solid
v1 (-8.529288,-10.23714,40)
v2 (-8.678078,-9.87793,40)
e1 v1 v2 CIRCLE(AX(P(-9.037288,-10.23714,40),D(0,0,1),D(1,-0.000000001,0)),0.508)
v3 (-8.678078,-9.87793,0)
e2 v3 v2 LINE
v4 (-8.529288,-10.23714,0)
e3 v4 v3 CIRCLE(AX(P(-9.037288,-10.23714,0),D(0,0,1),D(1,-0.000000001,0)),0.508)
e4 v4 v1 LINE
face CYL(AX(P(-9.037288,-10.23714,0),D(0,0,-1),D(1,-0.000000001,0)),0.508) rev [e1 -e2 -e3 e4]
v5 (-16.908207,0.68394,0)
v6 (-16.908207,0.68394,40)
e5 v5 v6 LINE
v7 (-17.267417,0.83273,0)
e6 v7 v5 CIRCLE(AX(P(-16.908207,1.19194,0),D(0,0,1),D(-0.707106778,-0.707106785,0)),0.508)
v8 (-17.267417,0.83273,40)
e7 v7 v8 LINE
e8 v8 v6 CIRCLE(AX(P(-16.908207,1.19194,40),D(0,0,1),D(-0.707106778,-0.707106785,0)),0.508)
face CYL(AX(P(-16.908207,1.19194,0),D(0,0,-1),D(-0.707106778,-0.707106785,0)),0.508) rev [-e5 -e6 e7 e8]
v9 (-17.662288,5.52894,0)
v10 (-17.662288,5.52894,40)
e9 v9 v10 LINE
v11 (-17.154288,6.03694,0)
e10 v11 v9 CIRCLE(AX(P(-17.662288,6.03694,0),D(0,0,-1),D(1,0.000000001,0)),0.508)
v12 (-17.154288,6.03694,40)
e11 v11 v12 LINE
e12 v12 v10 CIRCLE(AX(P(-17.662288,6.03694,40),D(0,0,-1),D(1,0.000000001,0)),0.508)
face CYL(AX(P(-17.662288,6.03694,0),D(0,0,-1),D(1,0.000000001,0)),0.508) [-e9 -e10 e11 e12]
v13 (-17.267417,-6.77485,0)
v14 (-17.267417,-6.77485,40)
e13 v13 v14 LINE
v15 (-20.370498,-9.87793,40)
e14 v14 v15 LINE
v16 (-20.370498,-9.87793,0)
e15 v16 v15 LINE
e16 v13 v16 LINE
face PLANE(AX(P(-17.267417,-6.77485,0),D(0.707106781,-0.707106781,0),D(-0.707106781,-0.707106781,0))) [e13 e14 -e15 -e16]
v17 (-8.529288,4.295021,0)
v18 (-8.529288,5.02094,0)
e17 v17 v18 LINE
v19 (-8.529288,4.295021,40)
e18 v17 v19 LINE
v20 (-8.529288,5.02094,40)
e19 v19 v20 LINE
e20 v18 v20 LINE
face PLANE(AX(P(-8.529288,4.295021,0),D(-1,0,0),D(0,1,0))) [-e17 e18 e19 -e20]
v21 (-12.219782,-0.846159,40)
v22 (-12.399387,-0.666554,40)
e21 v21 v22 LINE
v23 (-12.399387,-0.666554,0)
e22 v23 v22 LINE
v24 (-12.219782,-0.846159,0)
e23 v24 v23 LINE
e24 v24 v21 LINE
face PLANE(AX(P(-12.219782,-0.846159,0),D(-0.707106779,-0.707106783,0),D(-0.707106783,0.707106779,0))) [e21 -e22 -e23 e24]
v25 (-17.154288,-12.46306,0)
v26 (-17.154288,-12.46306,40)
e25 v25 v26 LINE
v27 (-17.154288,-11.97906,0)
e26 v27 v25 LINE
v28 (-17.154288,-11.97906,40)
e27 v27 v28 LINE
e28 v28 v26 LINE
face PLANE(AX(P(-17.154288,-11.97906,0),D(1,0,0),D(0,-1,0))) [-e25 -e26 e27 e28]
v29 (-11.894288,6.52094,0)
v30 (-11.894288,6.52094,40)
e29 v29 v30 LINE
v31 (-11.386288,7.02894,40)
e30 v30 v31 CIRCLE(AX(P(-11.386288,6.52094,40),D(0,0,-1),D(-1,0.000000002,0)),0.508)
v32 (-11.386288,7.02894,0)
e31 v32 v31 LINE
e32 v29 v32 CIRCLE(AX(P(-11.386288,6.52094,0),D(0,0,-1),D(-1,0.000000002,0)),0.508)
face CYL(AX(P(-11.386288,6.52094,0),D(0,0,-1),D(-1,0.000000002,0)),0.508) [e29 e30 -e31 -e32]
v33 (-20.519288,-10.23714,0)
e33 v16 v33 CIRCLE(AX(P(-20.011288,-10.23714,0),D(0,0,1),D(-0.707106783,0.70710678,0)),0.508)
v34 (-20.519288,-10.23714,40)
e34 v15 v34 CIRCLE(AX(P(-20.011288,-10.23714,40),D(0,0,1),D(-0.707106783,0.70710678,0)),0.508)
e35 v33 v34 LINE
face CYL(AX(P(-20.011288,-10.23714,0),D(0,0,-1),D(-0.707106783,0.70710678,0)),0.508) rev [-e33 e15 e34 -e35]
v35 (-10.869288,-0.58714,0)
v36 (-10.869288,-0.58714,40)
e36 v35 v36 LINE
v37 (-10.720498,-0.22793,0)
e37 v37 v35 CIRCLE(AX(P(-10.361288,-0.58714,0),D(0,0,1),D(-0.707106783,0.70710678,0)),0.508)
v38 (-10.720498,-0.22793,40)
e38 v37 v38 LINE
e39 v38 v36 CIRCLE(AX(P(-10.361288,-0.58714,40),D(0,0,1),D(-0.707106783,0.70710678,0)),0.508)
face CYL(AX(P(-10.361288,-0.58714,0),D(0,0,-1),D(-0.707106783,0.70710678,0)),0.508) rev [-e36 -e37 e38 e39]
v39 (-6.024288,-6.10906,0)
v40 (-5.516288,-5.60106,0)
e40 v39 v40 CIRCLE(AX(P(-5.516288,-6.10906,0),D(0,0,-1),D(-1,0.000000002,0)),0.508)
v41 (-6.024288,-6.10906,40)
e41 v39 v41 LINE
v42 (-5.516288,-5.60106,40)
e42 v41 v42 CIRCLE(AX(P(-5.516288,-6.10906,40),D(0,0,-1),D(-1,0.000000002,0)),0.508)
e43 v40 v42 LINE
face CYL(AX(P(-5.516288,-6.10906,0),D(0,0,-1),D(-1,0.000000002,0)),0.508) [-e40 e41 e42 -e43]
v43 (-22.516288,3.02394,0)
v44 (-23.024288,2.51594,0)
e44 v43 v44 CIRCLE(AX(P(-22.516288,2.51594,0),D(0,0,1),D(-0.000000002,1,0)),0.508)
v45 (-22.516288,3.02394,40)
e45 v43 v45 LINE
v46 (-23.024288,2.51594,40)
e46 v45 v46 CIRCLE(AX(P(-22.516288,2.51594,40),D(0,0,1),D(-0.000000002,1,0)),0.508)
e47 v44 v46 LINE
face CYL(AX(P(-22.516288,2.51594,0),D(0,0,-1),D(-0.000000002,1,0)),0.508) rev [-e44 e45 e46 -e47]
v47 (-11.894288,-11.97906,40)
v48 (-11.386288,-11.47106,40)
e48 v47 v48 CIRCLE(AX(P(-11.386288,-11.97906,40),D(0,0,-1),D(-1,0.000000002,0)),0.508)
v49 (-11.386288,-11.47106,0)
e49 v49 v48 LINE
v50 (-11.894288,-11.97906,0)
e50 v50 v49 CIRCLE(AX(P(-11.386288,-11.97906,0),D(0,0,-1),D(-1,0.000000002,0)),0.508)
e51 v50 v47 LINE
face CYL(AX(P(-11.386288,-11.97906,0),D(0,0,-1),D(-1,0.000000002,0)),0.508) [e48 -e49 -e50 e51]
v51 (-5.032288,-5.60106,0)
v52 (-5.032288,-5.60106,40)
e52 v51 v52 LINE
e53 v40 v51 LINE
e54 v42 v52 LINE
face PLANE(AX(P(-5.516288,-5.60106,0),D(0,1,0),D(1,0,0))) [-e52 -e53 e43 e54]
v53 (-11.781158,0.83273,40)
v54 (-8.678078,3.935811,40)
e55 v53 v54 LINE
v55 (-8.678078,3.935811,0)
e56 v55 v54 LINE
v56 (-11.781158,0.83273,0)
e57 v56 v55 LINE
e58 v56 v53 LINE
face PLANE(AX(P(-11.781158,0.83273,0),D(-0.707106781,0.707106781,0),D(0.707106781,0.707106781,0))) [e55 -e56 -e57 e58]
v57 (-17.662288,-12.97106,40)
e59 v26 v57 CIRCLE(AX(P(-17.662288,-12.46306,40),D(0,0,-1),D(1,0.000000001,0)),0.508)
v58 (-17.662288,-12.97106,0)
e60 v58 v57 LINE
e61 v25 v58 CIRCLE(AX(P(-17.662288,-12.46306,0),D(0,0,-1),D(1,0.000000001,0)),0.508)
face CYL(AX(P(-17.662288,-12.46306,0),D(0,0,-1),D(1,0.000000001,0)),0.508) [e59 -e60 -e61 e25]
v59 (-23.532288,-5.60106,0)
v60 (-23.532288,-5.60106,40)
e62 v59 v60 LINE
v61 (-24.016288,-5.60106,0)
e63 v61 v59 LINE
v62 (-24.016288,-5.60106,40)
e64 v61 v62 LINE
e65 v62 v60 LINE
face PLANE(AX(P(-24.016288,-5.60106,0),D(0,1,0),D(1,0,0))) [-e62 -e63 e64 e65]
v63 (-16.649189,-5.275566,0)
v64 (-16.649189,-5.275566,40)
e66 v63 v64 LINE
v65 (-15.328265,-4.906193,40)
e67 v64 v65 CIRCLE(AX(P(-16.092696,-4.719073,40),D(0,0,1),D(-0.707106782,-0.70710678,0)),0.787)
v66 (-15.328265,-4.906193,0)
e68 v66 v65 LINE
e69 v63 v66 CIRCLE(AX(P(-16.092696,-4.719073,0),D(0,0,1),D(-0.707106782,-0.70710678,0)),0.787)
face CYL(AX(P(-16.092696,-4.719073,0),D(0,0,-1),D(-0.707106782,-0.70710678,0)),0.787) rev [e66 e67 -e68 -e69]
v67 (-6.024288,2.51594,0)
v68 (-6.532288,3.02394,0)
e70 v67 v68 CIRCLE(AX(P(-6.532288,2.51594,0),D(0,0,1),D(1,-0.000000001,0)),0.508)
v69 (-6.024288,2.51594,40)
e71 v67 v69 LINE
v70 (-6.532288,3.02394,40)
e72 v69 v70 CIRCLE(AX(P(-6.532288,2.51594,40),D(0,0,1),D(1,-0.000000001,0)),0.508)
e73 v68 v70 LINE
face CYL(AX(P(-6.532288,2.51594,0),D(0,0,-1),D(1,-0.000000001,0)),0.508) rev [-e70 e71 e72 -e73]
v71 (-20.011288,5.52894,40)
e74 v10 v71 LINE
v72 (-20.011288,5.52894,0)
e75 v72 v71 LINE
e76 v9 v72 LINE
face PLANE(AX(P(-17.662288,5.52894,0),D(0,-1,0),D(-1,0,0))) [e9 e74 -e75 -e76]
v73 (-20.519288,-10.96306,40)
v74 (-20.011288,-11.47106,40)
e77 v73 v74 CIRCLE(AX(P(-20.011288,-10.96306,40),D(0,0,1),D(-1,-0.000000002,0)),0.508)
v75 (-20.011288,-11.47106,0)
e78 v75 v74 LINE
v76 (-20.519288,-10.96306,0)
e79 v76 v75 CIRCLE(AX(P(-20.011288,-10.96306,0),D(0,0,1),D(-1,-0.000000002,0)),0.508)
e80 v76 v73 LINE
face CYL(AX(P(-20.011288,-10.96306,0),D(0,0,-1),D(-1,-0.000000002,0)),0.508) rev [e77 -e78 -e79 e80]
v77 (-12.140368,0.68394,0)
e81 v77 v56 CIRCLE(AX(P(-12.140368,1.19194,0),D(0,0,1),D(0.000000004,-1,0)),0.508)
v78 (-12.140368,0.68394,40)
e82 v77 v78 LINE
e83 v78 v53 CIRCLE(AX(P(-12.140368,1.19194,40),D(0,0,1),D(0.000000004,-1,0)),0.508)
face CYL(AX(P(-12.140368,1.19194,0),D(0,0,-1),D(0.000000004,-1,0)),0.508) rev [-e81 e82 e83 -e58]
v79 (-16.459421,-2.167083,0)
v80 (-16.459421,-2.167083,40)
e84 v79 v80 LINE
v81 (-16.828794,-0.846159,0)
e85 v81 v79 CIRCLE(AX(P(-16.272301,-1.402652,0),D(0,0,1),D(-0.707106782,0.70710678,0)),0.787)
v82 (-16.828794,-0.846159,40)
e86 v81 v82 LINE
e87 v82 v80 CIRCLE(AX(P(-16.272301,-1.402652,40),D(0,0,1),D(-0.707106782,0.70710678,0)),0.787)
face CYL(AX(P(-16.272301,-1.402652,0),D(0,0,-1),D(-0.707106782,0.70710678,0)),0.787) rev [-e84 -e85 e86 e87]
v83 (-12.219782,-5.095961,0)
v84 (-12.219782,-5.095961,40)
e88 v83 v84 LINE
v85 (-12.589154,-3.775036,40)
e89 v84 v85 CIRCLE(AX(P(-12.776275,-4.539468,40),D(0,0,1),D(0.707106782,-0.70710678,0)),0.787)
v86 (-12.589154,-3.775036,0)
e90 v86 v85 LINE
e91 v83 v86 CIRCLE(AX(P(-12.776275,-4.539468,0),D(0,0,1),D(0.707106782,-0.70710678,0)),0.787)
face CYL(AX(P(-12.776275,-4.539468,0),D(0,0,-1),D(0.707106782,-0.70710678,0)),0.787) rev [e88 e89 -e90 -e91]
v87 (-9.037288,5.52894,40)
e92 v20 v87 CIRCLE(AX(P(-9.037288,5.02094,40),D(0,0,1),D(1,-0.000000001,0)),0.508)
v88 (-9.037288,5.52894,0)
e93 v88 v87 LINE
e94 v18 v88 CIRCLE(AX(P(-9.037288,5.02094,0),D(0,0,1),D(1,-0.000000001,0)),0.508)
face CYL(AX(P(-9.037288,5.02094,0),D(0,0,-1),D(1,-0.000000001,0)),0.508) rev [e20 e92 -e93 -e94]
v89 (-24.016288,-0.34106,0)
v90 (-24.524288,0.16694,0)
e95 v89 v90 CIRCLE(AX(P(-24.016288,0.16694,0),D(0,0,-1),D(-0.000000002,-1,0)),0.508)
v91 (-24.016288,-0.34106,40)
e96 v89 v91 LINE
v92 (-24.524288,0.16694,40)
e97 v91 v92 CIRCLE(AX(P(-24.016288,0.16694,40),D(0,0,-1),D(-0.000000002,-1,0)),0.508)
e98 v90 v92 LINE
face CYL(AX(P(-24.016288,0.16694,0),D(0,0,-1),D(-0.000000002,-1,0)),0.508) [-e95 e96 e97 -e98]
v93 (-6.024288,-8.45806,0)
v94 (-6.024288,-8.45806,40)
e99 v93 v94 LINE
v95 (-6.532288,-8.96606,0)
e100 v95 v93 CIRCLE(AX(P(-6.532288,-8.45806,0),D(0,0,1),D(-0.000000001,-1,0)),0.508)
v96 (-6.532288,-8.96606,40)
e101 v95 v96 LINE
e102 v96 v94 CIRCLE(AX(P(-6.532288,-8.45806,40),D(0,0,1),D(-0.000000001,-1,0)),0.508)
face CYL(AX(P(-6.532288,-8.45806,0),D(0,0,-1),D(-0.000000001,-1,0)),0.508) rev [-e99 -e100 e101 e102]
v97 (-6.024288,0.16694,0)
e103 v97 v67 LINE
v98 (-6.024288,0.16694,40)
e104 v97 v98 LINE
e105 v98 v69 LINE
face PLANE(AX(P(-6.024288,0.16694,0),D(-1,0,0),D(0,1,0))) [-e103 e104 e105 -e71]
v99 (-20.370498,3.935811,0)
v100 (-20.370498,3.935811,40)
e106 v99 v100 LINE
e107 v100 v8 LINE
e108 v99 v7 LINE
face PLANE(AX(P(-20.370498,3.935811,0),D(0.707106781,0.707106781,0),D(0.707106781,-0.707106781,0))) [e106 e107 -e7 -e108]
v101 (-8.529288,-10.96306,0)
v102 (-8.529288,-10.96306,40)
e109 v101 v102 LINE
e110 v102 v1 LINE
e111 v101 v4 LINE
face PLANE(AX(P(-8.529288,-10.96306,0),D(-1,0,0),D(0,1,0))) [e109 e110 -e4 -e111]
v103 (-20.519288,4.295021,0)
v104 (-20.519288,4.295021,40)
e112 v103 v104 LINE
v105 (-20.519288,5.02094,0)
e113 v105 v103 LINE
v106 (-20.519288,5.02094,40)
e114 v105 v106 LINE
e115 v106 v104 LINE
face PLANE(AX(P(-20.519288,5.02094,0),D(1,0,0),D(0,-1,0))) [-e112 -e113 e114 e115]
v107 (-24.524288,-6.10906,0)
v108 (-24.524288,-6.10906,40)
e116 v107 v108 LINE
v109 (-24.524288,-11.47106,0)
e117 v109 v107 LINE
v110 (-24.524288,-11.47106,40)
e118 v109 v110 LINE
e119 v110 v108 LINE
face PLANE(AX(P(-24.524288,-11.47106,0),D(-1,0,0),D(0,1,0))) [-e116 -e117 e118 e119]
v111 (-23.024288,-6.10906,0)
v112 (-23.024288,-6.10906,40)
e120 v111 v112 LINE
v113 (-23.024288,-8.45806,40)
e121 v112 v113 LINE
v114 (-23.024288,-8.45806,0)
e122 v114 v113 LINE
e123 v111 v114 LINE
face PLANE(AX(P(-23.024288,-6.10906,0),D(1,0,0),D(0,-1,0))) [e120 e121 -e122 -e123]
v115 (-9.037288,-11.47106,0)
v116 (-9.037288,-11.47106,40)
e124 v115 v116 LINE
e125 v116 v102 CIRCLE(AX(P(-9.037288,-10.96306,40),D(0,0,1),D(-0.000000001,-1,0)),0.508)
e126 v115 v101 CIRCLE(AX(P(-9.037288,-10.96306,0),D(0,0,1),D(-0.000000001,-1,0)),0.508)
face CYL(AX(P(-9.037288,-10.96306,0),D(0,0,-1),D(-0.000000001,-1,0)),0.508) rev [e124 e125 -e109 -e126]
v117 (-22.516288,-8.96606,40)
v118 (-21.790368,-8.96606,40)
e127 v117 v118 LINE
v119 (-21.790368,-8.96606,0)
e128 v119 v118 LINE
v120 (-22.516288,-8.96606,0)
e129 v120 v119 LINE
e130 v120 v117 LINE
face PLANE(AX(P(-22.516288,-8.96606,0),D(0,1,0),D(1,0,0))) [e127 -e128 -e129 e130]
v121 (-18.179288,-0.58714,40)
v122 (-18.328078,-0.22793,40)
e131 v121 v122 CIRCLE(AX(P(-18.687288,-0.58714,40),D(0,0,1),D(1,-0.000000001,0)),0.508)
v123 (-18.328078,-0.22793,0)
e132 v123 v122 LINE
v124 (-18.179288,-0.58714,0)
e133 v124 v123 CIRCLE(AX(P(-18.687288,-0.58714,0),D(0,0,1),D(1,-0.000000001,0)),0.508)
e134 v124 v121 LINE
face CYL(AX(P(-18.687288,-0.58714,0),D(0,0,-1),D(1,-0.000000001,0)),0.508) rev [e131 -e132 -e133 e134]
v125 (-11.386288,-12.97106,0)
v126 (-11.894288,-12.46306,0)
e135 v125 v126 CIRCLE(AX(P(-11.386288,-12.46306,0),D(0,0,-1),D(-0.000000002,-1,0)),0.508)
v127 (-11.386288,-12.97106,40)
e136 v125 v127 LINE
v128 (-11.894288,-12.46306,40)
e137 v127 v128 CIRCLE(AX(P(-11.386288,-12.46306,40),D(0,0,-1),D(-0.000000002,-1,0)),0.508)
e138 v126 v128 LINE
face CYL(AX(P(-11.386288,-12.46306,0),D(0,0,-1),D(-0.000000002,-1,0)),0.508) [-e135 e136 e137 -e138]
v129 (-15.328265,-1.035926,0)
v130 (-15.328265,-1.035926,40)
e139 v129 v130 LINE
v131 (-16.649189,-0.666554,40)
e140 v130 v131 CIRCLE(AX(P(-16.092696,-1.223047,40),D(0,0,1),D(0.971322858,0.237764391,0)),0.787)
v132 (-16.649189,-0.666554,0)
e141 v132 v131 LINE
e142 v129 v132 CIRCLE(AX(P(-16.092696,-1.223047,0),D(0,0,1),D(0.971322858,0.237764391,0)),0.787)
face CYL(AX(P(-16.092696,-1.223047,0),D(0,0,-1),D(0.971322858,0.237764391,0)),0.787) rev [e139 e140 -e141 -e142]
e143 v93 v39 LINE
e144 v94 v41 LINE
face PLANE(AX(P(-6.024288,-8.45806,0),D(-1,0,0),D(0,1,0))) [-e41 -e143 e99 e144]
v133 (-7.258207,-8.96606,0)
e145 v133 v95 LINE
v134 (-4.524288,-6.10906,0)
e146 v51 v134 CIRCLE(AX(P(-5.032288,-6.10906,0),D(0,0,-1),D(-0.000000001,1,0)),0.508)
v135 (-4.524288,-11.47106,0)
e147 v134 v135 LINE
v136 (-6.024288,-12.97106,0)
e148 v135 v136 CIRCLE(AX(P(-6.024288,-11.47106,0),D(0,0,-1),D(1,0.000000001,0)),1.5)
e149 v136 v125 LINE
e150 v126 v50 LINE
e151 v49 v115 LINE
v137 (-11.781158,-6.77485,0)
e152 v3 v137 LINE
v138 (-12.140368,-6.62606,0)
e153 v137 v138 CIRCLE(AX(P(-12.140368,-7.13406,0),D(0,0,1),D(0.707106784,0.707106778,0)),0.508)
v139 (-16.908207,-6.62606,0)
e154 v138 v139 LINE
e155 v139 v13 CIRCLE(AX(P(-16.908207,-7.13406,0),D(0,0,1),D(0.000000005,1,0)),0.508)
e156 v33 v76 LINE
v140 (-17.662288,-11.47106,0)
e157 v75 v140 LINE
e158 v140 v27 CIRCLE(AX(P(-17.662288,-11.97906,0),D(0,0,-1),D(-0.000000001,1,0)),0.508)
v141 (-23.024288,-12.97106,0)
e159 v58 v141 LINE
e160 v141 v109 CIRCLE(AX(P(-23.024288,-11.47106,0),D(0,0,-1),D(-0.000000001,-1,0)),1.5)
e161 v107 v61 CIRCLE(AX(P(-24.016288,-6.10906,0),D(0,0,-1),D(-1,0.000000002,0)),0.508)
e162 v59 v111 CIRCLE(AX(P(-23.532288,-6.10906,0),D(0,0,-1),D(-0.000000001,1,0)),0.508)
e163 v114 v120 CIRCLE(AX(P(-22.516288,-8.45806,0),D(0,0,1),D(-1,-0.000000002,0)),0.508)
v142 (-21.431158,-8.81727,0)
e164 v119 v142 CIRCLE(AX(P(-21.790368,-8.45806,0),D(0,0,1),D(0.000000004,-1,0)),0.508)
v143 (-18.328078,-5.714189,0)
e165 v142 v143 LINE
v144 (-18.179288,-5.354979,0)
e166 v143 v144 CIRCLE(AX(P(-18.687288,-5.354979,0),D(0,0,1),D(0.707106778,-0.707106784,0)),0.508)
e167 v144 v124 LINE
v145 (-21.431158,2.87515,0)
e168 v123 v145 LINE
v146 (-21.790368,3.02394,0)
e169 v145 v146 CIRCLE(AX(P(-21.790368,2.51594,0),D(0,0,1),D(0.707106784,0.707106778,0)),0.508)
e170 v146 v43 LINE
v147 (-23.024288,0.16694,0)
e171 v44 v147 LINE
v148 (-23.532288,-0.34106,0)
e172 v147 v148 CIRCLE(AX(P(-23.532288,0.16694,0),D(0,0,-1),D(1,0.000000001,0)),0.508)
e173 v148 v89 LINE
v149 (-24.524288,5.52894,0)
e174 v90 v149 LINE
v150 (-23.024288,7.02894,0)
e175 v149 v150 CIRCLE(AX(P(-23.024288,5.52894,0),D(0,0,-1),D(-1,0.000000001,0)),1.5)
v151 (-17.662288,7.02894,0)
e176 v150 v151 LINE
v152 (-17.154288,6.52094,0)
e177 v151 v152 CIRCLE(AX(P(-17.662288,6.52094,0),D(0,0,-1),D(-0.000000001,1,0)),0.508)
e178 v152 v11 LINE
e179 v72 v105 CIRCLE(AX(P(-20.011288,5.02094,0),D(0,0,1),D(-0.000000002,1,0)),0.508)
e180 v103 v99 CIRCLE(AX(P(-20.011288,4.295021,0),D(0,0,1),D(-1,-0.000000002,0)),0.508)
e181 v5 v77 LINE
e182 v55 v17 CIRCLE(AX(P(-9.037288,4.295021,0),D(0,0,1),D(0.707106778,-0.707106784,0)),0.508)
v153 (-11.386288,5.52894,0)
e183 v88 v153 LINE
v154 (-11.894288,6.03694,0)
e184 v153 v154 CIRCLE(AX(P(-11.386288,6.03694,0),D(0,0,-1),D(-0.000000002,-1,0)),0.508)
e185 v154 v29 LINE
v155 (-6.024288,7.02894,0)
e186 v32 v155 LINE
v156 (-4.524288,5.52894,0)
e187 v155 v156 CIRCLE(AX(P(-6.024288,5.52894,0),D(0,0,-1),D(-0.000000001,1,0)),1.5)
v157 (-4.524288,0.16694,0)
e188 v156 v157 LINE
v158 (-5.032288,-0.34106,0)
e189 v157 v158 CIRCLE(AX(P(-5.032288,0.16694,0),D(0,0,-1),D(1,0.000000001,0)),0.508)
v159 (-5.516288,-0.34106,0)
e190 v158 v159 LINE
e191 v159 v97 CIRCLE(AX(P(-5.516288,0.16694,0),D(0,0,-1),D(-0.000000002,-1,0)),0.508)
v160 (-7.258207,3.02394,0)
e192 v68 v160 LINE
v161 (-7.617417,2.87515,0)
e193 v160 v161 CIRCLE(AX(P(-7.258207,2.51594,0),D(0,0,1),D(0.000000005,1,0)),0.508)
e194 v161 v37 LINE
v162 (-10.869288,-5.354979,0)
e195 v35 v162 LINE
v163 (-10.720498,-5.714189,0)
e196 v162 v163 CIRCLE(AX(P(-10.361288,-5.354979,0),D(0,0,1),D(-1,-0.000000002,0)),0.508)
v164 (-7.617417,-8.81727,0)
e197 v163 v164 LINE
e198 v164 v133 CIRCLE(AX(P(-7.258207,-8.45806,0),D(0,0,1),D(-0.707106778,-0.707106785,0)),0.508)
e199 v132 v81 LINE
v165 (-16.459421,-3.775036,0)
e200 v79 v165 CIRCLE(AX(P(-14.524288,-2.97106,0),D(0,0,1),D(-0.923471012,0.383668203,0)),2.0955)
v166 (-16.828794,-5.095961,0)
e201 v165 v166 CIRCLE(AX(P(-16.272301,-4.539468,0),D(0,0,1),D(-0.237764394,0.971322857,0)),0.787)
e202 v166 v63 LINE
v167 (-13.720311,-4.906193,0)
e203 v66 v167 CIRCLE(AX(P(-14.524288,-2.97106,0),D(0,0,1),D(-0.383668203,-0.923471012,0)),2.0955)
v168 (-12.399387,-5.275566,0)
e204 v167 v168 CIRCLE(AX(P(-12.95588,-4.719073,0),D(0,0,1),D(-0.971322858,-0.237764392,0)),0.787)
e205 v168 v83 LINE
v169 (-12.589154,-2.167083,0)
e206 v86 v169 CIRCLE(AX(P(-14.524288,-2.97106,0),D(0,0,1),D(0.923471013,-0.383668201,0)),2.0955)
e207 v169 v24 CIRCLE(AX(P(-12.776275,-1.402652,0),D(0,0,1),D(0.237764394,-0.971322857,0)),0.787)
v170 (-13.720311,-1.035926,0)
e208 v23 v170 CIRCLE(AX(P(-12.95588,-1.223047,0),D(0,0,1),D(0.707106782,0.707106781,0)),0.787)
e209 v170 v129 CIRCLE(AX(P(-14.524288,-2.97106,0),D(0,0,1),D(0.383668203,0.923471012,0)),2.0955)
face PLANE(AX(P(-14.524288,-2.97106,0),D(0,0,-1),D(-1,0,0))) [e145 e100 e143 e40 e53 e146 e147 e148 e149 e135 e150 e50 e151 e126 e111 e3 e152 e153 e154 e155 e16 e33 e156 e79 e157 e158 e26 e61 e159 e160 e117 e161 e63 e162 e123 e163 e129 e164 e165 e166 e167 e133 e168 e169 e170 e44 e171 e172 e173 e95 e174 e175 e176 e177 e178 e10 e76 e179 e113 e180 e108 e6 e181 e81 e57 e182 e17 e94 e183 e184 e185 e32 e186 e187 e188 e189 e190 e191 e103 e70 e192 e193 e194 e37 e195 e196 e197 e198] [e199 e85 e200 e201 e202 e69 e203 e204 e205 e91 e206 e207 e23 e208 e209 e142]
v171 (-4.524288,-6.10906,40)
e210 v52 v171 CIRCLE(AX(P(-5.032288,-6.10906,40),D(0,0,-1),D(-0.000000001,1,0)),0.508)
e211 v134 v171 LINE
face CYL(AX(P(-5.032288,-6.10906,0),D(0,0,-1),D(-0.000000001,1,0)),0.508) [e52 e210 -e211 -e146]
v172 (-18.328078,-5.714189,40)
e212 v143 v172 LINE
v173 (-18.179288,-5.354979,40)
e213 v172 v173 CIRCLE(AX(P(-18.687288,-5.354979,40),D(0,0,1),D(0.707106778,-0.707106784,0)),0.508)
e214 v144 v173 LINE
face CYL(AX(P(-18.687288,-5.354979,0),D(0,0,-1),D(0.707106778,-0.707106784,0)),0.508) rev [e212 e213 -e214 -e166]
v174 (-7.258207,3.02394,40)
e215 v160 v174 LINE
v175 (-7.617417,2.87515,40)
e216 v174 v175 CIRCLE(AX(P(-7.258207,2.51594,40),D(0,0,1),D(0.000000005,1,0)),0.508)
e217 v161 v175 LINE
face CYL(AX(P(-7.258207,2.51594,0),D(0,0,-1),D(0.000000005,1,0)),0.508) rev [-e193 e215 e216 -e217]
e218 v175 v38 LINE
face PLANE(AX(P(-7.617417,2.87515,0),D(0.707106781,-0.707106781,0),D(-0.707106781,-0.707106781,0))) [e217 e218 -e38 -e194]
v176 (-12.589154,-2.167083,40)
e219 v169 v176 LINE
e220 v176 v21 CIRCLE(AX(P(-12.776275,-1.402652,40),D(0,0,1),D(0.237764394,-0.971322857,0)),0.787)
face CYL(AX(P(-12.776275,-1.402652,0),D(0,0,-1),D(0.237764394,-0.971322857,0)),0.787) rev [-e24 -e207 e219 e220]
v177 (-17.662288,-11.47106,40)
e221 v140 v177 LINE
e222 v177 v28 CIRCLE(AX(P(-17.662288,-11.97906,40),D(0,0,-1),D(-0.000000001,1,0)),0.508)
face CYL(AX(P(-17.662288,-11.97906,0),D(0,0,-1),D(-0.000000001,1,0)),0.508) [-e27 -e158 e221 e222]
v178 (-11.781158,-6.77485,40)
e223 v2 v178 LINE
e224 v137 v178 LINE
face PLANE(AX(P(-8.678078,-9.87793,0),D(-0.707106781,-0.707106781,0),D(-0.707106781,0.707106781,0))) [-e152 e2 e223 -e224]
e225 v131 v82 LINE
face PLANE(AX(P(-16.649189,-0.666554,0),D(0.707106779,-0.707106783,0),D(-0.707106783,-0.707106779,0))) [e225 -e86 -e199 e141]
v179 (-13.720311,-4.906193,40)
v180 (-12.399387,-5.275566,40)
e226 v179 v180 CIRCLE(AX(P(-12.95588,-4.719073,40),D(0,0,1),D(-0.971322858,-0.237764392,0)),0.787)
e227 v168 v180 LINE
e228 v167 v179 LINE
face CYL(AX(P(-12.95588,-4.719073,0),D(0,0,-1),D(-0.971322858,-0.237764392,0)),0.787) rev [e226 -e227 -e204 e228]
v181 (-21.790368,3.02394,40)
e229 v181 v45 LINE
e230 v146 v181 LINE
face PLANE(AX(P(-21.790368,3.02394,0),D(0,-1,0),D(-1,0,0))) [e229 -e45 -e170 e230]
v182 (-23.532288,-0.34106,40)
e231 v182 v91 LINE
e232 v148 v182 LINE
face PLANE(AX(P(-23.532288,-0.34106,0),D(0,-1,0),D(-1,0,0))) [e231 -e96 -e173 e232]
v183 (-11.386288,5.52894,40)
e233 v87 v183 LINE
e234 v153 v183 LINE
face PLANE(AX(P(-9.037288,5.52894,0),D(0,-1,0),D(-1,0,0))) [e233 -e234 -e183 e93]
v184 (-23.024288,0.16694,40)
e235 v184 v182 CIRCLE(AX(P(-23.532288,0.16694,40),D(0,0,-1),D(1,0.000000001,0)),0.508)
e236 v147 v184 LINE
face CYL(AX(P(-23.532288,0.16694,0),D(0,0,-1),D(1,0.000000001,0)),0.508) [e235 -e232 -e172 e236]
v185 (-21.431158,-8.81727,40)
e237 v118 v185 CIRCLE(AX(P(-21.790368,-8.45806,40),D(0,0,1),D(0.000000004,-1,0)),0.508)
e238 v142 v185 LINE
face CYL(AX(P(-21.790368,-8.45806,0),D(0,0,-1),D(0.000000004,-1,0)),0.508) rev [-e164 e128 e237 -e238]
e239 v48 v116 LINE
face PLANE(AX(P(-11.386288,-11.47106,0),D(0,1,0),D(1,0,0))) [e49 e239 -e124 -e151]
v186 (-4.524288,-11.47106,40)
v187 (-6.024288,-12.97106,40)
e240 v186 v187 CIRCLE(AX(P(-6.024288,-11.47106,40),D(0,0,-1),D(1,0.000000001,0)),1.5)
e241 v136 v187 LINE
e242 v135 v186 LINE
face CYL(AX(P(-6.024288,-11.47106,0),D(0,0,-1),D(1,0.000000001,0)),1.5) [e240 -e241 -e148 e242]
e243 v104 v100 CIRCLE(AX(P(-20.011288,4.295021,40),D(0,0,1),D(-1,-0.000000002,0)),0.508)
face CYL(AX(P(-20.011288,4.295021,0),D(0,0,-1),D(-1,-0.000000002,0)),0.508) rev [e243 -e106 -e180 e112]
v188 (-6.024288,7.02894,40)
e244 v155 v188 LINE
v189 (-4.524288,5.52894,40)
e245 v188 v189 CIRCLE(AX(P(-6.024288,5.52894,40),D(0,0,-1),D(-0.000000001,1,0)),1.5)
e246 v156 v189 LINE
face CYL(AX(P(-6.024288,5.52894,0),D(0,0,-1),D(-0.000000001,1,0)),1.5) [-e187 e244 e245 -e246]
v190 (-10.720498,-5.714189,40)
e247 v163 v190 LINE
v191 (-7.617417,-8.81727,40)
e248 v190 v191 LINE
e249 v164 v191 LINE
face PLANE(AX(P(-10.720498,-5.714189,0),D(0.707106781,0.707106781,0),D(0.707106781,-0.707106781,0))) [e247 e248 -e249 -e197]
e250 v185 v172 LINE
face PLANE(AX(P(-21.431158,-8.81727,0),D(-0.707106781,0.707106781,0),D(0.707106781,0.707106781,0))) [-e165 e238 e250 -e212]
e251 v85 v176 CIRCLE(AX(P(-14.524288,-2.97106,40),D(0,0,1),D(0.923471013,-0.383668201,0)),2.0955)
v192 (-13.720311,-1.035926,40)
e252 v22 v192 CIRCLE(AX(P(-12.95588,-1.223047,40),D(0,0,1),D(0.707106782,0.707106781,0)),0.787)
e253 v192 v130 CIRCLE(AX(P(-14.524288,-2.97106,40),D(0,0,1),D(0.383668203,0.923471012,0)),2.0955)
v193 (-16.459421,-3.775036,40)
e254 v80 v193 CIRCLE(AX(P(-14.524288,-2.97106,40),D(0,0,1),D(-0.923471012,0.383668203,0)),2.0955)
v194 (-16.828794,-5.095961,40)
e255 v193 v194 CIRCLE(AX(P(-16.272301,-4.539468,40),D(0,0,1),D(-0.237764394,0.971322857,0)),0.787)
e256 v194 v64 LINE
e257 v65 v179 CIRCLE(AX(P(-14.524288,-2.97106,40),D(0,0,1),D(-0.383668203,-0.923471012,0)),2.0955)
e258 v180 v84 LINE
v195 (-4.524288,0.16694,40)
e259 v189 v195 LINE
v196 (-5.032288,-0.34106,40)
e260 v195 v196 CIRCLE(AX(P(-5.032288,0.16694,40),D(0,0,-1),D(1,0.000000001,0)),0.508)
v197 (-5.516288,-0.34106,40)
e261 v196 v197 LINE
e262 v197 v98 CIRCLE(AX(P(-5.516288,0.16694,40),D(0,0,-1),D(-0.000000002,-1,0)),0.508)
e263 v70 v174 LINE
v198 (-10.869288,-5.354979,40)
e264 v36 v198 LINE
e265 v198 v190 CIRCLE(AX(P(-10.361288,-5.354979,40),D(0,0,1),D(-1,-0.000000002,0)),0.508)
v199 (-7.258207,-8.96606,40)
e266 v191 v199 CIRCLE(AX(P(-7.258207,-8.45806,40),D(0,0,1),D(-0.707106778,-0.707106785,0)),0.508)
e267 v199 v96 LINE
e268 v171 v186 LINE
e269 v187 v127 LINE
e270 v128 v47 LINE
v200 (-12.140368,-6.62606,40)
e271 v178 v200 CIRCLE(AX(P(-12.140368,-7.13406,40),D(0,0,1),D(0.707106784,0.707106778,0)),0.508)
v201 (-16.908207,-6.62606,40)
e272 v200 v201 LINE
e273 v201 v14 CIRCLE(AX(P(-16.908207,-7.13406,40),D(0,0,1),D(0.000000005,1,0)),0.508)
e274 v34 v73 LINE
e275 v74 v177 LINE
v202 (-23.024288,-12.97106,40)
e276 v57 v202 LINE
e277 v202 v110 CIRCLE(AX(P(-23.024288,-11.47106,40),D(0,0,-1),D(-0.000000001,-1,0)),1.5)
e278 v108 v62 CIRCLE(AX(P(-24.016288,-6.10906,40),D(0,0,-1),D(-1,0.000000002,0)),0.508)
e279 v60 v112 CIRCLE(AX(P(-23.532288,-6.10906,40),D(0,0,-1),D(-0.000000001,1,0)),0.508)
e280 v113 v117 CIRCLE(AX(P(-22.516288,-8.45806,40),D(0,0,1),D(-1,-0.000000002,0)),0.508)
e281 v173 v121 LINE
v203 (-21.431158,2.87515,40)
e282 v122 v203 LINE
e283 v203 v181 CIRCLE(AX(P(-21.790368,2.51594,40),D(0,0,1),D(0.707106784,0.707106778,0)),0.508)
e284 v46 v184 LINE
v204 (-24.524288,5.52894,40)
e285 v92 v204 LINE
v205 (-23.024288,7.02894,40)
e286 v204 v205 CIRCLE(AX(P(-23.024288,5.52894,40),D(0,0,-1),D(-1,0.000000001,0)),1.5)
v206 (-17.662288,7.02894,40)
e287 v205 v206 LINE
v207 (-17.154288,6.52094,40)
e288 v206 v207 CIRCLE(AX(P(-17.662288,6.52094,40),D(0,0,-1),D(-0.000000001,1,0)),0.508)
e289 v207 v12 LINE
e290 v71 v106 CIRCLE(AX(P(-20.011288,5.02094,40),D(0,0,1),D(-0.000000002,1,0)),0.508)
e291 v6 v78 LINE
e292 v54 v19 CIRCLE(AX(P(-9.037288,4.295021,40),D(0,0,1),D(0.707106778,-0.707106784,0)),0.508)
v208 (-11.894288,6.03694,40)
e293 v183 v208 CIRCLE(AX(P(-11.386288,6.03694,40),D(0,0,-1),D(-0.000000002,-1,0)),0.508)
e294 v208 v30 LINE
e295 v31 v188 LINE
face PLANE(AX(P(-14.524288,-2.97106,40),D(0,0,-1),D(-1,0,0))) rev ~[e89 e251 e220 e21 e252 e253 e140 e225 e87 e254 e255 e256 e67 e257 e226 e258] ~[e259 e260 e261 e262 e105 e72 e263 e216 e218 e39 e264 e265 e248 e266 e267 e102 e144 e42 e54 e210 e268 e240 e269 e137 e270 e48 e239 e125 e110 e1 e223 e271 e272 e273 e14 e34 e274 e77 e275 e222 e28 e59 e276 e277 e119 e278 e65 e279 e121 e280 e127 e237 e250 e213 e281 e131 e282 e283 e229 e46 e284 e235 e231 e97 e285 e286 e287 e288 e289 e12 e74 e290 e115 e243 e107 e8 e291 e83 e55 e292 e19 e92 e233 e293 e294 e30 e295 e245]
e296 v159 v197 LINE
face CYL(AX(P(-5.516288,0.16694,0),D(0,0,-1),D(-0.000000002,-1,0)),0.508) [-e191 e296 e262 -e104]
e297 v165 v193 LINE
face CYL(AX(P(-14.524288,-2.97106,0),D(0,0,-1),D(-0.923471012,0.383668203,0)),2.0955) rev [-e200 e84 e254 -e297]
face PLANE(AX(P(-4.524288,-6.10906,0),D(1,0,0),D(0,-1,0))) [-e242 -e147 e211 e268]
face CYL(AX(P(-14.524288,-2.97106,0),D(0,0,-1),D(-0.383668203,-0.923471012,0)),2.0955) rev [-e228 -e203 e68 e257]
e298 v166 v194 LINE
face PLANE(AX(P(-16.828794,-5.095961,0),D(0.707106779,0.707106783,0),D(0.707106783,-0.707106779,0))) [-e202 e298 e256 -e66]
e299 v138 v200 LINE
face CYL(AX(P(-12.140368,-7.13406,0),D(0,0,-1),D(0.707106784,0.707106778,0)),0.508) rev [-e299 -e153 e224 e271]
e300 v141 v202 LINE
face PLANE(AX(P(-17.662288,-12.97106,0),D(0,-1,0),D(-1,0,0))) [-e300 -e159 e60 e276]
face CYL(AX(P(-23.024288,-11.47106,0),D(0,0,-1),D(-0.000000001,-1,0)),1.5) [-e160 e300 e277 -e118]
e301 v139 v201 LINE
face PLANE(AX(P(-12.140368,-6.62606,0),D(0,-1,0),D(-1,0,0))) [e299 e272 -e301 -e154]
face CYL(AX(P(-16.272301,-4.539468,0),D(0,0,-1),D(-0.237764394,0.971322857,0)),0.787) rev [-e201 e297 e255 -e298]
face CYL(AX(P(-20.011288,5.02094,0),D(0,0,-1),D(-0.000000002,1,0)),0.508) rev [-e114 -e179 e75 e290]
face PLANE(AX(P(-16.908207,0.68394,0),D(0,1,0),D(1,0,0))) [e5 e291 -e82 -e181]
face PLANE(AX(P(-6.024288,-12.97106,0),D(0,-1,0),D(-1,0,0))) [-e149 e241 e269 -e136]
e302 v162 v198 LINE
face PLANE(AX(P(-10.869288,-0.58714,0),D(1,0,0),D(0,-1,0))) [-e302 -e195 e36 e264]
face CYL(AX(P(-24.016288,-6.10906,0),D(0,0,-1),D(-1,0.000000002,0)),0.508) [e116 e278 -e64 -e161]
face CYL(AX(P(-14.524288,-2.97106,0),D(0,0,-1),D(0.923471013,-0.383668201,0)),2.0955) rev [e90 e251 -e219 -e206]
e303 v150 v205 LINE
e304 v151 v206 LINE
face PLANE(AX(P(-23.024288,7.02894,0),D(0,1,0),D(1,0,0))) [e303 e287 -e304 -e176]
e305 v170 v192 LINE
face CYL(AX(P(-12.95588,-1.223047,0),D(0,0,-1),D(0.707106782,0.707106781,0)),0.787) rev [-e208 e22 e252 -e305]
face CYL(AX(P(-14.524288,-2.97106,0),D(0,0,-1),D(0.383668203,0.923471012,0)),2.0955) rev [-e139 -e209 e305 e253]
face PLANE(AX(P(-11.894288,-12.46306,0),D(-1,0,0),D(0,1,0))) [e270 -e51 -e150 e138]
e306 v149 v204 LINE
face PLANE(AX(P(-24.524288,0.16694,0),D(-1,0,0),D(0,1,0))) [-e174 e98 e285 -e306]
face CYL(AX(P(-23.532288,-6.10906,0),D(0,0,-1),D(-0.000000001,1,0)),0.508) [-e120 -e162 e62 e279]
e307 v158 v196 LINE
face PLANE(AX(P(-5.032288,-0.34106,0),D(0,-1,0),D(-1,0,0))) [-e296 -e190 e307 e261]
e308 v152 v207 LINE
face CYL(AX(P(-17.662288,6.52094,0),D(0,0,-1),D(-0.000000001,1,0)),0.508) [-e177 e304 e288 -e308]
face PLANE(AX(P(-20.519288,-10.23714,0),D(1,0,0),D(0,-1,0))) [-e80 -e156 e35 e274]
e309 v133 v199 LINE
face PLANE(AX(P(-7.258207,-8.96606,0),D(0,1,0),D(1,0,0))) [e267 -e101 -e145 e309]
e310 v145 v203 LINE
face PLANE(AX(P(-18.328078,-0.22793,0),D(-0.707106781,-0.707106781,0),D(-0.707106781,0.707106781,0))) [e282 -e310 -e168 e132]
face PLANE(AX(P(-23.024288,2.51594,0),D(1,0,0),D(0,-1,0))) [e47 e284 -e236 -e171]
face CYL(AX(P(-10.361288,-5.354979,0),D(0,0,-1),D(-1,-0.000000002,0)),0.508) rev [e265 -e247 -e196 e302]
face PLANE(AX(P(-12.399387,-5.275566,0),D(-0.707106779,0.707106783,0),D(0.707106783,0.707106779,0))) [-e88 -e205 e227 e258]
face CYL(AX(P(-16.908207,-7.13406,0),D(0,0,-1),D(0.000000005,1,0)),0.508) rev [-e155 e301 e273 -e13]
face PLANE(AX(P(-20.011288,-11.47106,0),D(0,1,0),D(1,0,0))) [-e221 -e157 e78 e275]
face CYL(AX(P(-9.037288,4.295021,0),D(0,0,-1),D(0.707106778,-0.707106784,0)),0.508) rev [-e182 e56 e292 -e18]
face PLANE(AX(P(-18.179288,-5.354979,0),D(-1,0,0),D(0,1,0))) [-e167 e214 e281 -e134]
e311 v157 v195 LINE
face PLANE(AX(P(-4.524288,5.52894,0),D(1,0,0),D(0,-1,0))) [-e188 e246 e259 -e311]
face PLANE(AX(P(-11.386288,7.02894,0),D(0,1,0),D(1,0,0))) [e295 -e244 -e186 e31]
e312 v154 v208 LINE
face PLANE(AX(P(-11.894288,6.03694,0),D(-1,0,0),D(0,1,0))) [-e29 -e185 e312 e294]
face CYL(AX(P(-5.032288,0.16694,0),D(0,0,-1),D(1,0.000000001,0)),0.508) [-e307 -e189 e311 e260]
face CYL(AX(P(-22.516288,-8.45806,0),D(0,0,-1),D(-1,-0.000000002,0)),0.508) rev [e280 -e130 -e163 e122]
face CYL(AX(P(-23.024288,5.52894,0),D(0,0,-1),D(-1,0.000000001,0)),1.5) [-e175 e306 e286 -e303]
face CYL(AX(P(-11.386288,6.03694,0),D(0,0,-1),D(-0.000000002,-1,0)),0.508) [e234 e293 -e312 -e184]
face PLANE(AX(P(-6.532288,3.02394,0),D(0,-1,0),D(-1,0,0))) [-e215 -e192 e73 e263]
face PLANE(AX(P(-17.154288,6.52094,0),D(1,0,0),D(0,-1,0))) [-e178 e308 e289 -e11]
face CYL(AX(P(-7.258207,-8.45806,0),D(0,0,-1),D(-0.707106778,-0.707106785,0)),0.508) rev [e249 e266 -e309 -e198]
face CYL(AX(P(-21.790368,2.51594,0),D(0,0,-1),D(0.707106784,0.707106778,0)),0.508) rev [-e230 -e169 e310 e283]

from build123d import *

# Parameters (mm, degrees)
EXTRUDE1_DEPTH = 40


with BuildPart() as part:
    # Sketch1 → Extrude1 (new body)
    with BuildSketch(Plane.XY):
        with BuildLine():
            Line((-5.032287798, -0.341059771), (-5.516287798, -0.341059771))
            ThreePointArc((-5.516287798, -0.341059771), (-5.875498042, -0.192270016), (-6.024287798, 0.166940229))
            Line((-6.024287798, 0.166940229), (-6.024287798, 2.515940229))
            ThreePointArc((-6.024287798, 2.515940229), (-6.173077553, 2.875150474), (-6.532287798, 3.023940229))
            Line((-6.532287798, 3.023940229), (-7.258207136, 3.023940229))
            ThreePointArc((-7.258207136, 3.023940229), (-7.45261032, 2.985271032), (-7.617417381, 2.875150474))
            Line((-7.617417381, 2.875150474), (-10.720498042, -0.227930187))
            ThreePointArc((-10.720498042, -0.227930187), (-10.8306186, -0.392737249), (-10.869287798, -0.587140432))
            Line((-10.869287798, -0.587140432), (-10.869287798, -5.354979109))
            ThreePointArc((-10.869287798, -5.354979109), (-10.8306186, -5.549382293), (-10.720498042, -5.714189354))
            Line((-10.720498042, -5.714189354), (-7.617417381, -8.817270016))
            ThreePointArc((-7.617417381, -8.817270016), (-7.45261032, -8.927390573), (-7.258207136, -8.966059771))
            Line((-7.258207136, -8.966059771), (-6.532287798, -8.966059771))
            ThreePointArc((-6.532287798, -8.966059771), (-6.173077553, -8.817270016), (-6.024287798, -8.458059771))
            Line((-6.024287798, -8.458059771), (-6.024287798, -6.109059771))
            ThreePointArc((-6.024287798, -6.109059771), (-5.875498042, -5.749849526), (-5.516287798, -5.601059771))
            Line((-5.516287798, -5.601059771), (-5.032287798, -5.601059771))
            ThreePointArc((-5.032287798, -5.601059771), (-4.673077553, -5.749849526), (-4.524287798, -6.109059771))
            Line((-4.524287798, -6.109059771), (-4.524287798, -11.471059771))
            ThreePointArc((-4.524287798, -11.471059771), (-4.963627626, -12.531719943), (-6.024287798, -12.971059771))
            Line((-6.024287798, -12.971059771), (-11.386287798, -12.971059771))
            ThreePointArc((-11.386287798, -12.971059771), (-11.745498042, -12.822270016), (-11.894287798, -12.463059771))
            Line((-11.894287798, -12.463059771), (-11.894287798, -11.979059771))
            ThreePointArc((-11.894287798, -11.979059771), (-11.745498042, -11.619849526), (-11.386287798, -11.471059771))
            Line((-11.386287798, -11.471059771), (-9.037287798, -11.471059771))
            ThreePointArc((-9.037287798, -11.471059771), (-8.678077553, -11.322270016), (-8.529287798, -10.963059771))
            Line((-8.529287798, -10.963059771), (-8.529287798, -10.237140432))
            ThreePointArc((-8.529287798, -10.237140432), (-8.567956995, -10.042737249), (-8.678077553, -9.877930187))
            Line((-8.678077553, -9.877930187), (-11.781158214, -6.774849526))
            ThreePointArc((-11.781158214, -6.774849526), (-11.945965275, -6.664728968), (-12.140368459, -6.626059771))
            Line((-12.140368459, -6.626059771), (-16.908207136, -6.626059771))
            ThreePointArc((-16.908207136, -6.626059771), (-17.10261032, -6.664728968), (-17.267417381, -6.774849526))
            Line((-17.267417381, -6.774849526), (-20.370498042, -9.877930187))
            ThreePointArc((-20.370498042, -9.877930187), (-20.4806186, -10.042737249), (-20.519287798, -10.237140432))
            Line((-20.519287798, -10.237140432), (-20.519287798, -10.963059771))
            ThreePointArc((-20.519287798, -10.963059771), (-20.370498042, -11.322270016), (-20.011287798, -11.471059771))
            Line((-20.011287798, -11.471059771), (-17.662287798, -11.471059771))
            ThreePointArc((-17.662287798, -11.471059771), (-17.303077553, -11.619849526), (-17.154287798, -11.979059771))
            Line((-17.154287798, -11.979059771), (-17.154287798, -12.463059771))
            ThreePointArc((-17.154287798, -12.463059771), (-17.303077553, -12.822270016), (-17.662287798, -12.971059771))
            Line((-17.662287798, -12.971059771), (-23.024287798, -12.971059771))
            ThreePointArc((-23.024287798, -12.971059771), (-24.084947969, -12.531719943), (-24.524287798, -11.471059771))
            Line((-24.524287798, -11.471059771), (-24.524287798, -6.109059771))
            ThreePointArc((-24.524287798, -6.109059771), (-24.375498042, -5.749849526), (-24.016287798, -5.601059771))
            Line((-24.016287798, -5.601059771), (-23.532287798, -5.601059771))
            ThreePointArc((-23.532287798, -5.601059771), (-23.173077553, -5.749849526), (-23.024287798, -6.109059771))
            Line((-23.024287798, -6.109059771), (-23.024287798, -8.458059771))
            ThreePointArc((-23.024287798, -8.458059771), (-22.875498042, -8.817270016), (-22.516287798, -8.966059771))
            Line((-22.516287798, -8.966059771), (-21.790368459, -8.966059771))
            ThreePointArc((-21.790368459, -8.966059771), (-21.595965275, -8.927390573), (-21.431158214, -8.817270016))
            Line((-21.431158214, -8.817270016), (-18.328077553, -5.714189354))
            ThreePointArc((-18.328077553, -5.714189354), (-18.217956995, -5.549382293), (-18.179287798, -5.354979109))
            Line((-18.179287798, -5.354979109), (-18.179287798, -0.587140432))
            ThreePointArc((-18.179287798, -0.587140432), (-18.217956995, -0.392737249), (-18.328077553, -0.227930187))
            Line((-18.328077553, -0.227930187), (-21.431158214, 2.875150474))
            ThreePointArc((-21.431158214, 2.875150474), (-21.595965275, 2.985271032), (-21.790368459, 3.023940229))
            Line((-21.790368459, 3.023940229), (-22.516287798, 3.023940229))
            ThreePointArc((-22.516287798, 3.023940229), (-22.875498042, 2.875150474), (-23.024287798, 2.515940229))
            Line((-23.024287798, 2.515940229), (-23.024287798, 0.166940229))
            ThreePointArc((-23.024287798, 0.166940229), (-23.173077553, -0.192270016), (-23.532287798, -0.341059771))
            Line((-23.532287798, -0.341059771), (-24.016287798, -0.341059771))
            ThreePointArc((-24.016287798, -0.341059771), (-24.375498042, -0.192270016), (-24.524287798, 0.166940229))
            Line((-24.524287798, 0.166940229), (-24.524287798, 5.528940229))
            ThreePointArc((-24.524287798, 5.528940229), (-24.084947969, 6.589600401), (-23.024287798, 7.028940229))
            Line((-23.024287798, 7.028940229), (-17.662287798, 7.028940229))
            ThreePointArc((-17.662287798, 7.028940229), (-17.303077553, 6.880150474), (-17.154287798, 6.520940229))
            Line((-17.154287798, 6.520940229), (-17.154287798, 6.036940229))
            ThreePointArc((-17.154287798, 6.036940229), (-17.303077553, 5.677729984), (-17.662287798, 5.528940229))
            Line((-17.662287798, 5.528940229), (-20.011287798, 5.528940229))
            ThreePointArc((-20.011287798, 5.528940229), (-20.370498042, 5.380150474), (-20.519287798, 5.020940229))
            Line((-20.519287798, 5.020940229), (-20.519287798, 4.295020891))
            ThreePointArc((-20.519287798, 4.295020891), (-20.4806186, 4.100617707), (-20.370498042, 3.935810646))
            Line((-20.370498042, 3.935810646), (-17.267417381, 0.832729984))
            ThreePointArc((-17.267417381, 0.832729984), (-17.10261032, 0.722609427), (-16.908207136, 0.683940229))
            Line((-16.908207136, 0.683940229), (-12.140368459, 0.683940229))
            ThreePointArc((-12.140368459, 0.683940229), (-11.945965275, 0.722609427), (-11.781158214, 0.832729984))
            Line((-11.781158214, 0.832729984), (-8.678077553, 3.935810646))
            ThreePointArc((-8.678077553, 3.935810646), (-8.567956995, 4.100617707), (-8.529287798, 4.295020891))
            Line((-8.529287798, 4.295020891), (-8.529287798, 5.020940229))
            ThreePointArc((-8.529287798, 5.020940229), (-8.678077553, 5.380150474), (-9.037287798, 5.528940229))
            Line((-9.037287798, 5.528940229), (-11.386287798, 5.528940229))
            ThreePointArc((-11.386287798, 5.528940229), (-11.745498042, 5.677729984), (-11.894287798, 6.036940229))
            Line((-11.894287798, 6.036940229), (-11.894287798, 6.520940229))
            ThreePointArc((-11.894287798, 6.520940229), (-11.745498042, 6.880150474), (-11.386287798, 7.028940229))
            Line((-11.386287798, 7.028940229), (-6.024287798, 7.028940229))
            ThreePointArc((-6.024287798, 7.028940229), (-4.963627626, 6.589600401), (-4.524287798, 5.528940229))
            Line((-4.524287798, 5.528940229), (-4.524287798, 0.166940229))
            ThreePointArc((-4.524287798, 0.166940229), (-4.673077553, -0.192270016), (-5.032287798, -0.341059771))
        make_face()
        with BuildLine():
            Line((-12.399386954, -5.275565737), (-12.219781831, -5.095960615))
            ThreePointArc((-12.219781831, -5.095960615), (-12.018349781, -4.327527582), (-12.589154291, -3.775036489))
            ThreePointArc((-12.589154291, -3.775036489), (-12.428787798, -2.971059771), (-12.589154291, -2.167083053))
            ThreePointArc((-12.589154291, -2.167083053), (-12.018349781, -1.61459196), (-12.219781831, -0.846158927))
            Line((-12.219781831, -0.846158927), (-12.399386954, -0.666553805))
            ThreePointArc((-12.399386954, -0.666553805), (-13.167819987, -0.465121754), (-13.72031108, -1.035926265))
            ThreePointArc((-13.72031108, -1.035926265), (-14.524287798, -0.875559771), (-15.328264516, -1.035926265))
            ThreePointArc((-15.328264516, -1.035926265), (-15.880755608, -0.465121754), (-16.649188641, -0.666553805))
            Line((-16.649188641, -0.666553805), (-16.828793764, -0.846158927))
            ThreePointArc((-16.828793764, -0.846158927), (-17.030225814, -1.61459196), (-16.459421304, -2.167083053))
            ThreePointArc((-16.459421304, -2.167083053), (-16.619787798, -2.971059771), (-16.459421304, -3.775036489))
            ThreePointArc((-16.459421304, -3.775036489), (-17.030225814, -4.327527582), (-16.828793764, -5.095960615))
            Line((-16.828793764, -5.095960615), (-16.649188641, -5.275565737))
            ThreePointArc((-16.649188641, -5.275565737), (-15.880755608, -5.476997788), (-15.328264516, -4.906193277))
            ThreePointArc((-15.328264516, -4.906193277), (-14.524287798, -5.066559771), (-13.72031108, -4.906193277))
            ThreePointArc((-13.72031108, -4.906193277), (-13.167819987, -5.476997788), (-12.399386954, -5.275565737))
        make_face(mode=Mode.SUBTRACT)
    extrude(amount=EXTRUDE1_DEPTH)


solid = part.part
